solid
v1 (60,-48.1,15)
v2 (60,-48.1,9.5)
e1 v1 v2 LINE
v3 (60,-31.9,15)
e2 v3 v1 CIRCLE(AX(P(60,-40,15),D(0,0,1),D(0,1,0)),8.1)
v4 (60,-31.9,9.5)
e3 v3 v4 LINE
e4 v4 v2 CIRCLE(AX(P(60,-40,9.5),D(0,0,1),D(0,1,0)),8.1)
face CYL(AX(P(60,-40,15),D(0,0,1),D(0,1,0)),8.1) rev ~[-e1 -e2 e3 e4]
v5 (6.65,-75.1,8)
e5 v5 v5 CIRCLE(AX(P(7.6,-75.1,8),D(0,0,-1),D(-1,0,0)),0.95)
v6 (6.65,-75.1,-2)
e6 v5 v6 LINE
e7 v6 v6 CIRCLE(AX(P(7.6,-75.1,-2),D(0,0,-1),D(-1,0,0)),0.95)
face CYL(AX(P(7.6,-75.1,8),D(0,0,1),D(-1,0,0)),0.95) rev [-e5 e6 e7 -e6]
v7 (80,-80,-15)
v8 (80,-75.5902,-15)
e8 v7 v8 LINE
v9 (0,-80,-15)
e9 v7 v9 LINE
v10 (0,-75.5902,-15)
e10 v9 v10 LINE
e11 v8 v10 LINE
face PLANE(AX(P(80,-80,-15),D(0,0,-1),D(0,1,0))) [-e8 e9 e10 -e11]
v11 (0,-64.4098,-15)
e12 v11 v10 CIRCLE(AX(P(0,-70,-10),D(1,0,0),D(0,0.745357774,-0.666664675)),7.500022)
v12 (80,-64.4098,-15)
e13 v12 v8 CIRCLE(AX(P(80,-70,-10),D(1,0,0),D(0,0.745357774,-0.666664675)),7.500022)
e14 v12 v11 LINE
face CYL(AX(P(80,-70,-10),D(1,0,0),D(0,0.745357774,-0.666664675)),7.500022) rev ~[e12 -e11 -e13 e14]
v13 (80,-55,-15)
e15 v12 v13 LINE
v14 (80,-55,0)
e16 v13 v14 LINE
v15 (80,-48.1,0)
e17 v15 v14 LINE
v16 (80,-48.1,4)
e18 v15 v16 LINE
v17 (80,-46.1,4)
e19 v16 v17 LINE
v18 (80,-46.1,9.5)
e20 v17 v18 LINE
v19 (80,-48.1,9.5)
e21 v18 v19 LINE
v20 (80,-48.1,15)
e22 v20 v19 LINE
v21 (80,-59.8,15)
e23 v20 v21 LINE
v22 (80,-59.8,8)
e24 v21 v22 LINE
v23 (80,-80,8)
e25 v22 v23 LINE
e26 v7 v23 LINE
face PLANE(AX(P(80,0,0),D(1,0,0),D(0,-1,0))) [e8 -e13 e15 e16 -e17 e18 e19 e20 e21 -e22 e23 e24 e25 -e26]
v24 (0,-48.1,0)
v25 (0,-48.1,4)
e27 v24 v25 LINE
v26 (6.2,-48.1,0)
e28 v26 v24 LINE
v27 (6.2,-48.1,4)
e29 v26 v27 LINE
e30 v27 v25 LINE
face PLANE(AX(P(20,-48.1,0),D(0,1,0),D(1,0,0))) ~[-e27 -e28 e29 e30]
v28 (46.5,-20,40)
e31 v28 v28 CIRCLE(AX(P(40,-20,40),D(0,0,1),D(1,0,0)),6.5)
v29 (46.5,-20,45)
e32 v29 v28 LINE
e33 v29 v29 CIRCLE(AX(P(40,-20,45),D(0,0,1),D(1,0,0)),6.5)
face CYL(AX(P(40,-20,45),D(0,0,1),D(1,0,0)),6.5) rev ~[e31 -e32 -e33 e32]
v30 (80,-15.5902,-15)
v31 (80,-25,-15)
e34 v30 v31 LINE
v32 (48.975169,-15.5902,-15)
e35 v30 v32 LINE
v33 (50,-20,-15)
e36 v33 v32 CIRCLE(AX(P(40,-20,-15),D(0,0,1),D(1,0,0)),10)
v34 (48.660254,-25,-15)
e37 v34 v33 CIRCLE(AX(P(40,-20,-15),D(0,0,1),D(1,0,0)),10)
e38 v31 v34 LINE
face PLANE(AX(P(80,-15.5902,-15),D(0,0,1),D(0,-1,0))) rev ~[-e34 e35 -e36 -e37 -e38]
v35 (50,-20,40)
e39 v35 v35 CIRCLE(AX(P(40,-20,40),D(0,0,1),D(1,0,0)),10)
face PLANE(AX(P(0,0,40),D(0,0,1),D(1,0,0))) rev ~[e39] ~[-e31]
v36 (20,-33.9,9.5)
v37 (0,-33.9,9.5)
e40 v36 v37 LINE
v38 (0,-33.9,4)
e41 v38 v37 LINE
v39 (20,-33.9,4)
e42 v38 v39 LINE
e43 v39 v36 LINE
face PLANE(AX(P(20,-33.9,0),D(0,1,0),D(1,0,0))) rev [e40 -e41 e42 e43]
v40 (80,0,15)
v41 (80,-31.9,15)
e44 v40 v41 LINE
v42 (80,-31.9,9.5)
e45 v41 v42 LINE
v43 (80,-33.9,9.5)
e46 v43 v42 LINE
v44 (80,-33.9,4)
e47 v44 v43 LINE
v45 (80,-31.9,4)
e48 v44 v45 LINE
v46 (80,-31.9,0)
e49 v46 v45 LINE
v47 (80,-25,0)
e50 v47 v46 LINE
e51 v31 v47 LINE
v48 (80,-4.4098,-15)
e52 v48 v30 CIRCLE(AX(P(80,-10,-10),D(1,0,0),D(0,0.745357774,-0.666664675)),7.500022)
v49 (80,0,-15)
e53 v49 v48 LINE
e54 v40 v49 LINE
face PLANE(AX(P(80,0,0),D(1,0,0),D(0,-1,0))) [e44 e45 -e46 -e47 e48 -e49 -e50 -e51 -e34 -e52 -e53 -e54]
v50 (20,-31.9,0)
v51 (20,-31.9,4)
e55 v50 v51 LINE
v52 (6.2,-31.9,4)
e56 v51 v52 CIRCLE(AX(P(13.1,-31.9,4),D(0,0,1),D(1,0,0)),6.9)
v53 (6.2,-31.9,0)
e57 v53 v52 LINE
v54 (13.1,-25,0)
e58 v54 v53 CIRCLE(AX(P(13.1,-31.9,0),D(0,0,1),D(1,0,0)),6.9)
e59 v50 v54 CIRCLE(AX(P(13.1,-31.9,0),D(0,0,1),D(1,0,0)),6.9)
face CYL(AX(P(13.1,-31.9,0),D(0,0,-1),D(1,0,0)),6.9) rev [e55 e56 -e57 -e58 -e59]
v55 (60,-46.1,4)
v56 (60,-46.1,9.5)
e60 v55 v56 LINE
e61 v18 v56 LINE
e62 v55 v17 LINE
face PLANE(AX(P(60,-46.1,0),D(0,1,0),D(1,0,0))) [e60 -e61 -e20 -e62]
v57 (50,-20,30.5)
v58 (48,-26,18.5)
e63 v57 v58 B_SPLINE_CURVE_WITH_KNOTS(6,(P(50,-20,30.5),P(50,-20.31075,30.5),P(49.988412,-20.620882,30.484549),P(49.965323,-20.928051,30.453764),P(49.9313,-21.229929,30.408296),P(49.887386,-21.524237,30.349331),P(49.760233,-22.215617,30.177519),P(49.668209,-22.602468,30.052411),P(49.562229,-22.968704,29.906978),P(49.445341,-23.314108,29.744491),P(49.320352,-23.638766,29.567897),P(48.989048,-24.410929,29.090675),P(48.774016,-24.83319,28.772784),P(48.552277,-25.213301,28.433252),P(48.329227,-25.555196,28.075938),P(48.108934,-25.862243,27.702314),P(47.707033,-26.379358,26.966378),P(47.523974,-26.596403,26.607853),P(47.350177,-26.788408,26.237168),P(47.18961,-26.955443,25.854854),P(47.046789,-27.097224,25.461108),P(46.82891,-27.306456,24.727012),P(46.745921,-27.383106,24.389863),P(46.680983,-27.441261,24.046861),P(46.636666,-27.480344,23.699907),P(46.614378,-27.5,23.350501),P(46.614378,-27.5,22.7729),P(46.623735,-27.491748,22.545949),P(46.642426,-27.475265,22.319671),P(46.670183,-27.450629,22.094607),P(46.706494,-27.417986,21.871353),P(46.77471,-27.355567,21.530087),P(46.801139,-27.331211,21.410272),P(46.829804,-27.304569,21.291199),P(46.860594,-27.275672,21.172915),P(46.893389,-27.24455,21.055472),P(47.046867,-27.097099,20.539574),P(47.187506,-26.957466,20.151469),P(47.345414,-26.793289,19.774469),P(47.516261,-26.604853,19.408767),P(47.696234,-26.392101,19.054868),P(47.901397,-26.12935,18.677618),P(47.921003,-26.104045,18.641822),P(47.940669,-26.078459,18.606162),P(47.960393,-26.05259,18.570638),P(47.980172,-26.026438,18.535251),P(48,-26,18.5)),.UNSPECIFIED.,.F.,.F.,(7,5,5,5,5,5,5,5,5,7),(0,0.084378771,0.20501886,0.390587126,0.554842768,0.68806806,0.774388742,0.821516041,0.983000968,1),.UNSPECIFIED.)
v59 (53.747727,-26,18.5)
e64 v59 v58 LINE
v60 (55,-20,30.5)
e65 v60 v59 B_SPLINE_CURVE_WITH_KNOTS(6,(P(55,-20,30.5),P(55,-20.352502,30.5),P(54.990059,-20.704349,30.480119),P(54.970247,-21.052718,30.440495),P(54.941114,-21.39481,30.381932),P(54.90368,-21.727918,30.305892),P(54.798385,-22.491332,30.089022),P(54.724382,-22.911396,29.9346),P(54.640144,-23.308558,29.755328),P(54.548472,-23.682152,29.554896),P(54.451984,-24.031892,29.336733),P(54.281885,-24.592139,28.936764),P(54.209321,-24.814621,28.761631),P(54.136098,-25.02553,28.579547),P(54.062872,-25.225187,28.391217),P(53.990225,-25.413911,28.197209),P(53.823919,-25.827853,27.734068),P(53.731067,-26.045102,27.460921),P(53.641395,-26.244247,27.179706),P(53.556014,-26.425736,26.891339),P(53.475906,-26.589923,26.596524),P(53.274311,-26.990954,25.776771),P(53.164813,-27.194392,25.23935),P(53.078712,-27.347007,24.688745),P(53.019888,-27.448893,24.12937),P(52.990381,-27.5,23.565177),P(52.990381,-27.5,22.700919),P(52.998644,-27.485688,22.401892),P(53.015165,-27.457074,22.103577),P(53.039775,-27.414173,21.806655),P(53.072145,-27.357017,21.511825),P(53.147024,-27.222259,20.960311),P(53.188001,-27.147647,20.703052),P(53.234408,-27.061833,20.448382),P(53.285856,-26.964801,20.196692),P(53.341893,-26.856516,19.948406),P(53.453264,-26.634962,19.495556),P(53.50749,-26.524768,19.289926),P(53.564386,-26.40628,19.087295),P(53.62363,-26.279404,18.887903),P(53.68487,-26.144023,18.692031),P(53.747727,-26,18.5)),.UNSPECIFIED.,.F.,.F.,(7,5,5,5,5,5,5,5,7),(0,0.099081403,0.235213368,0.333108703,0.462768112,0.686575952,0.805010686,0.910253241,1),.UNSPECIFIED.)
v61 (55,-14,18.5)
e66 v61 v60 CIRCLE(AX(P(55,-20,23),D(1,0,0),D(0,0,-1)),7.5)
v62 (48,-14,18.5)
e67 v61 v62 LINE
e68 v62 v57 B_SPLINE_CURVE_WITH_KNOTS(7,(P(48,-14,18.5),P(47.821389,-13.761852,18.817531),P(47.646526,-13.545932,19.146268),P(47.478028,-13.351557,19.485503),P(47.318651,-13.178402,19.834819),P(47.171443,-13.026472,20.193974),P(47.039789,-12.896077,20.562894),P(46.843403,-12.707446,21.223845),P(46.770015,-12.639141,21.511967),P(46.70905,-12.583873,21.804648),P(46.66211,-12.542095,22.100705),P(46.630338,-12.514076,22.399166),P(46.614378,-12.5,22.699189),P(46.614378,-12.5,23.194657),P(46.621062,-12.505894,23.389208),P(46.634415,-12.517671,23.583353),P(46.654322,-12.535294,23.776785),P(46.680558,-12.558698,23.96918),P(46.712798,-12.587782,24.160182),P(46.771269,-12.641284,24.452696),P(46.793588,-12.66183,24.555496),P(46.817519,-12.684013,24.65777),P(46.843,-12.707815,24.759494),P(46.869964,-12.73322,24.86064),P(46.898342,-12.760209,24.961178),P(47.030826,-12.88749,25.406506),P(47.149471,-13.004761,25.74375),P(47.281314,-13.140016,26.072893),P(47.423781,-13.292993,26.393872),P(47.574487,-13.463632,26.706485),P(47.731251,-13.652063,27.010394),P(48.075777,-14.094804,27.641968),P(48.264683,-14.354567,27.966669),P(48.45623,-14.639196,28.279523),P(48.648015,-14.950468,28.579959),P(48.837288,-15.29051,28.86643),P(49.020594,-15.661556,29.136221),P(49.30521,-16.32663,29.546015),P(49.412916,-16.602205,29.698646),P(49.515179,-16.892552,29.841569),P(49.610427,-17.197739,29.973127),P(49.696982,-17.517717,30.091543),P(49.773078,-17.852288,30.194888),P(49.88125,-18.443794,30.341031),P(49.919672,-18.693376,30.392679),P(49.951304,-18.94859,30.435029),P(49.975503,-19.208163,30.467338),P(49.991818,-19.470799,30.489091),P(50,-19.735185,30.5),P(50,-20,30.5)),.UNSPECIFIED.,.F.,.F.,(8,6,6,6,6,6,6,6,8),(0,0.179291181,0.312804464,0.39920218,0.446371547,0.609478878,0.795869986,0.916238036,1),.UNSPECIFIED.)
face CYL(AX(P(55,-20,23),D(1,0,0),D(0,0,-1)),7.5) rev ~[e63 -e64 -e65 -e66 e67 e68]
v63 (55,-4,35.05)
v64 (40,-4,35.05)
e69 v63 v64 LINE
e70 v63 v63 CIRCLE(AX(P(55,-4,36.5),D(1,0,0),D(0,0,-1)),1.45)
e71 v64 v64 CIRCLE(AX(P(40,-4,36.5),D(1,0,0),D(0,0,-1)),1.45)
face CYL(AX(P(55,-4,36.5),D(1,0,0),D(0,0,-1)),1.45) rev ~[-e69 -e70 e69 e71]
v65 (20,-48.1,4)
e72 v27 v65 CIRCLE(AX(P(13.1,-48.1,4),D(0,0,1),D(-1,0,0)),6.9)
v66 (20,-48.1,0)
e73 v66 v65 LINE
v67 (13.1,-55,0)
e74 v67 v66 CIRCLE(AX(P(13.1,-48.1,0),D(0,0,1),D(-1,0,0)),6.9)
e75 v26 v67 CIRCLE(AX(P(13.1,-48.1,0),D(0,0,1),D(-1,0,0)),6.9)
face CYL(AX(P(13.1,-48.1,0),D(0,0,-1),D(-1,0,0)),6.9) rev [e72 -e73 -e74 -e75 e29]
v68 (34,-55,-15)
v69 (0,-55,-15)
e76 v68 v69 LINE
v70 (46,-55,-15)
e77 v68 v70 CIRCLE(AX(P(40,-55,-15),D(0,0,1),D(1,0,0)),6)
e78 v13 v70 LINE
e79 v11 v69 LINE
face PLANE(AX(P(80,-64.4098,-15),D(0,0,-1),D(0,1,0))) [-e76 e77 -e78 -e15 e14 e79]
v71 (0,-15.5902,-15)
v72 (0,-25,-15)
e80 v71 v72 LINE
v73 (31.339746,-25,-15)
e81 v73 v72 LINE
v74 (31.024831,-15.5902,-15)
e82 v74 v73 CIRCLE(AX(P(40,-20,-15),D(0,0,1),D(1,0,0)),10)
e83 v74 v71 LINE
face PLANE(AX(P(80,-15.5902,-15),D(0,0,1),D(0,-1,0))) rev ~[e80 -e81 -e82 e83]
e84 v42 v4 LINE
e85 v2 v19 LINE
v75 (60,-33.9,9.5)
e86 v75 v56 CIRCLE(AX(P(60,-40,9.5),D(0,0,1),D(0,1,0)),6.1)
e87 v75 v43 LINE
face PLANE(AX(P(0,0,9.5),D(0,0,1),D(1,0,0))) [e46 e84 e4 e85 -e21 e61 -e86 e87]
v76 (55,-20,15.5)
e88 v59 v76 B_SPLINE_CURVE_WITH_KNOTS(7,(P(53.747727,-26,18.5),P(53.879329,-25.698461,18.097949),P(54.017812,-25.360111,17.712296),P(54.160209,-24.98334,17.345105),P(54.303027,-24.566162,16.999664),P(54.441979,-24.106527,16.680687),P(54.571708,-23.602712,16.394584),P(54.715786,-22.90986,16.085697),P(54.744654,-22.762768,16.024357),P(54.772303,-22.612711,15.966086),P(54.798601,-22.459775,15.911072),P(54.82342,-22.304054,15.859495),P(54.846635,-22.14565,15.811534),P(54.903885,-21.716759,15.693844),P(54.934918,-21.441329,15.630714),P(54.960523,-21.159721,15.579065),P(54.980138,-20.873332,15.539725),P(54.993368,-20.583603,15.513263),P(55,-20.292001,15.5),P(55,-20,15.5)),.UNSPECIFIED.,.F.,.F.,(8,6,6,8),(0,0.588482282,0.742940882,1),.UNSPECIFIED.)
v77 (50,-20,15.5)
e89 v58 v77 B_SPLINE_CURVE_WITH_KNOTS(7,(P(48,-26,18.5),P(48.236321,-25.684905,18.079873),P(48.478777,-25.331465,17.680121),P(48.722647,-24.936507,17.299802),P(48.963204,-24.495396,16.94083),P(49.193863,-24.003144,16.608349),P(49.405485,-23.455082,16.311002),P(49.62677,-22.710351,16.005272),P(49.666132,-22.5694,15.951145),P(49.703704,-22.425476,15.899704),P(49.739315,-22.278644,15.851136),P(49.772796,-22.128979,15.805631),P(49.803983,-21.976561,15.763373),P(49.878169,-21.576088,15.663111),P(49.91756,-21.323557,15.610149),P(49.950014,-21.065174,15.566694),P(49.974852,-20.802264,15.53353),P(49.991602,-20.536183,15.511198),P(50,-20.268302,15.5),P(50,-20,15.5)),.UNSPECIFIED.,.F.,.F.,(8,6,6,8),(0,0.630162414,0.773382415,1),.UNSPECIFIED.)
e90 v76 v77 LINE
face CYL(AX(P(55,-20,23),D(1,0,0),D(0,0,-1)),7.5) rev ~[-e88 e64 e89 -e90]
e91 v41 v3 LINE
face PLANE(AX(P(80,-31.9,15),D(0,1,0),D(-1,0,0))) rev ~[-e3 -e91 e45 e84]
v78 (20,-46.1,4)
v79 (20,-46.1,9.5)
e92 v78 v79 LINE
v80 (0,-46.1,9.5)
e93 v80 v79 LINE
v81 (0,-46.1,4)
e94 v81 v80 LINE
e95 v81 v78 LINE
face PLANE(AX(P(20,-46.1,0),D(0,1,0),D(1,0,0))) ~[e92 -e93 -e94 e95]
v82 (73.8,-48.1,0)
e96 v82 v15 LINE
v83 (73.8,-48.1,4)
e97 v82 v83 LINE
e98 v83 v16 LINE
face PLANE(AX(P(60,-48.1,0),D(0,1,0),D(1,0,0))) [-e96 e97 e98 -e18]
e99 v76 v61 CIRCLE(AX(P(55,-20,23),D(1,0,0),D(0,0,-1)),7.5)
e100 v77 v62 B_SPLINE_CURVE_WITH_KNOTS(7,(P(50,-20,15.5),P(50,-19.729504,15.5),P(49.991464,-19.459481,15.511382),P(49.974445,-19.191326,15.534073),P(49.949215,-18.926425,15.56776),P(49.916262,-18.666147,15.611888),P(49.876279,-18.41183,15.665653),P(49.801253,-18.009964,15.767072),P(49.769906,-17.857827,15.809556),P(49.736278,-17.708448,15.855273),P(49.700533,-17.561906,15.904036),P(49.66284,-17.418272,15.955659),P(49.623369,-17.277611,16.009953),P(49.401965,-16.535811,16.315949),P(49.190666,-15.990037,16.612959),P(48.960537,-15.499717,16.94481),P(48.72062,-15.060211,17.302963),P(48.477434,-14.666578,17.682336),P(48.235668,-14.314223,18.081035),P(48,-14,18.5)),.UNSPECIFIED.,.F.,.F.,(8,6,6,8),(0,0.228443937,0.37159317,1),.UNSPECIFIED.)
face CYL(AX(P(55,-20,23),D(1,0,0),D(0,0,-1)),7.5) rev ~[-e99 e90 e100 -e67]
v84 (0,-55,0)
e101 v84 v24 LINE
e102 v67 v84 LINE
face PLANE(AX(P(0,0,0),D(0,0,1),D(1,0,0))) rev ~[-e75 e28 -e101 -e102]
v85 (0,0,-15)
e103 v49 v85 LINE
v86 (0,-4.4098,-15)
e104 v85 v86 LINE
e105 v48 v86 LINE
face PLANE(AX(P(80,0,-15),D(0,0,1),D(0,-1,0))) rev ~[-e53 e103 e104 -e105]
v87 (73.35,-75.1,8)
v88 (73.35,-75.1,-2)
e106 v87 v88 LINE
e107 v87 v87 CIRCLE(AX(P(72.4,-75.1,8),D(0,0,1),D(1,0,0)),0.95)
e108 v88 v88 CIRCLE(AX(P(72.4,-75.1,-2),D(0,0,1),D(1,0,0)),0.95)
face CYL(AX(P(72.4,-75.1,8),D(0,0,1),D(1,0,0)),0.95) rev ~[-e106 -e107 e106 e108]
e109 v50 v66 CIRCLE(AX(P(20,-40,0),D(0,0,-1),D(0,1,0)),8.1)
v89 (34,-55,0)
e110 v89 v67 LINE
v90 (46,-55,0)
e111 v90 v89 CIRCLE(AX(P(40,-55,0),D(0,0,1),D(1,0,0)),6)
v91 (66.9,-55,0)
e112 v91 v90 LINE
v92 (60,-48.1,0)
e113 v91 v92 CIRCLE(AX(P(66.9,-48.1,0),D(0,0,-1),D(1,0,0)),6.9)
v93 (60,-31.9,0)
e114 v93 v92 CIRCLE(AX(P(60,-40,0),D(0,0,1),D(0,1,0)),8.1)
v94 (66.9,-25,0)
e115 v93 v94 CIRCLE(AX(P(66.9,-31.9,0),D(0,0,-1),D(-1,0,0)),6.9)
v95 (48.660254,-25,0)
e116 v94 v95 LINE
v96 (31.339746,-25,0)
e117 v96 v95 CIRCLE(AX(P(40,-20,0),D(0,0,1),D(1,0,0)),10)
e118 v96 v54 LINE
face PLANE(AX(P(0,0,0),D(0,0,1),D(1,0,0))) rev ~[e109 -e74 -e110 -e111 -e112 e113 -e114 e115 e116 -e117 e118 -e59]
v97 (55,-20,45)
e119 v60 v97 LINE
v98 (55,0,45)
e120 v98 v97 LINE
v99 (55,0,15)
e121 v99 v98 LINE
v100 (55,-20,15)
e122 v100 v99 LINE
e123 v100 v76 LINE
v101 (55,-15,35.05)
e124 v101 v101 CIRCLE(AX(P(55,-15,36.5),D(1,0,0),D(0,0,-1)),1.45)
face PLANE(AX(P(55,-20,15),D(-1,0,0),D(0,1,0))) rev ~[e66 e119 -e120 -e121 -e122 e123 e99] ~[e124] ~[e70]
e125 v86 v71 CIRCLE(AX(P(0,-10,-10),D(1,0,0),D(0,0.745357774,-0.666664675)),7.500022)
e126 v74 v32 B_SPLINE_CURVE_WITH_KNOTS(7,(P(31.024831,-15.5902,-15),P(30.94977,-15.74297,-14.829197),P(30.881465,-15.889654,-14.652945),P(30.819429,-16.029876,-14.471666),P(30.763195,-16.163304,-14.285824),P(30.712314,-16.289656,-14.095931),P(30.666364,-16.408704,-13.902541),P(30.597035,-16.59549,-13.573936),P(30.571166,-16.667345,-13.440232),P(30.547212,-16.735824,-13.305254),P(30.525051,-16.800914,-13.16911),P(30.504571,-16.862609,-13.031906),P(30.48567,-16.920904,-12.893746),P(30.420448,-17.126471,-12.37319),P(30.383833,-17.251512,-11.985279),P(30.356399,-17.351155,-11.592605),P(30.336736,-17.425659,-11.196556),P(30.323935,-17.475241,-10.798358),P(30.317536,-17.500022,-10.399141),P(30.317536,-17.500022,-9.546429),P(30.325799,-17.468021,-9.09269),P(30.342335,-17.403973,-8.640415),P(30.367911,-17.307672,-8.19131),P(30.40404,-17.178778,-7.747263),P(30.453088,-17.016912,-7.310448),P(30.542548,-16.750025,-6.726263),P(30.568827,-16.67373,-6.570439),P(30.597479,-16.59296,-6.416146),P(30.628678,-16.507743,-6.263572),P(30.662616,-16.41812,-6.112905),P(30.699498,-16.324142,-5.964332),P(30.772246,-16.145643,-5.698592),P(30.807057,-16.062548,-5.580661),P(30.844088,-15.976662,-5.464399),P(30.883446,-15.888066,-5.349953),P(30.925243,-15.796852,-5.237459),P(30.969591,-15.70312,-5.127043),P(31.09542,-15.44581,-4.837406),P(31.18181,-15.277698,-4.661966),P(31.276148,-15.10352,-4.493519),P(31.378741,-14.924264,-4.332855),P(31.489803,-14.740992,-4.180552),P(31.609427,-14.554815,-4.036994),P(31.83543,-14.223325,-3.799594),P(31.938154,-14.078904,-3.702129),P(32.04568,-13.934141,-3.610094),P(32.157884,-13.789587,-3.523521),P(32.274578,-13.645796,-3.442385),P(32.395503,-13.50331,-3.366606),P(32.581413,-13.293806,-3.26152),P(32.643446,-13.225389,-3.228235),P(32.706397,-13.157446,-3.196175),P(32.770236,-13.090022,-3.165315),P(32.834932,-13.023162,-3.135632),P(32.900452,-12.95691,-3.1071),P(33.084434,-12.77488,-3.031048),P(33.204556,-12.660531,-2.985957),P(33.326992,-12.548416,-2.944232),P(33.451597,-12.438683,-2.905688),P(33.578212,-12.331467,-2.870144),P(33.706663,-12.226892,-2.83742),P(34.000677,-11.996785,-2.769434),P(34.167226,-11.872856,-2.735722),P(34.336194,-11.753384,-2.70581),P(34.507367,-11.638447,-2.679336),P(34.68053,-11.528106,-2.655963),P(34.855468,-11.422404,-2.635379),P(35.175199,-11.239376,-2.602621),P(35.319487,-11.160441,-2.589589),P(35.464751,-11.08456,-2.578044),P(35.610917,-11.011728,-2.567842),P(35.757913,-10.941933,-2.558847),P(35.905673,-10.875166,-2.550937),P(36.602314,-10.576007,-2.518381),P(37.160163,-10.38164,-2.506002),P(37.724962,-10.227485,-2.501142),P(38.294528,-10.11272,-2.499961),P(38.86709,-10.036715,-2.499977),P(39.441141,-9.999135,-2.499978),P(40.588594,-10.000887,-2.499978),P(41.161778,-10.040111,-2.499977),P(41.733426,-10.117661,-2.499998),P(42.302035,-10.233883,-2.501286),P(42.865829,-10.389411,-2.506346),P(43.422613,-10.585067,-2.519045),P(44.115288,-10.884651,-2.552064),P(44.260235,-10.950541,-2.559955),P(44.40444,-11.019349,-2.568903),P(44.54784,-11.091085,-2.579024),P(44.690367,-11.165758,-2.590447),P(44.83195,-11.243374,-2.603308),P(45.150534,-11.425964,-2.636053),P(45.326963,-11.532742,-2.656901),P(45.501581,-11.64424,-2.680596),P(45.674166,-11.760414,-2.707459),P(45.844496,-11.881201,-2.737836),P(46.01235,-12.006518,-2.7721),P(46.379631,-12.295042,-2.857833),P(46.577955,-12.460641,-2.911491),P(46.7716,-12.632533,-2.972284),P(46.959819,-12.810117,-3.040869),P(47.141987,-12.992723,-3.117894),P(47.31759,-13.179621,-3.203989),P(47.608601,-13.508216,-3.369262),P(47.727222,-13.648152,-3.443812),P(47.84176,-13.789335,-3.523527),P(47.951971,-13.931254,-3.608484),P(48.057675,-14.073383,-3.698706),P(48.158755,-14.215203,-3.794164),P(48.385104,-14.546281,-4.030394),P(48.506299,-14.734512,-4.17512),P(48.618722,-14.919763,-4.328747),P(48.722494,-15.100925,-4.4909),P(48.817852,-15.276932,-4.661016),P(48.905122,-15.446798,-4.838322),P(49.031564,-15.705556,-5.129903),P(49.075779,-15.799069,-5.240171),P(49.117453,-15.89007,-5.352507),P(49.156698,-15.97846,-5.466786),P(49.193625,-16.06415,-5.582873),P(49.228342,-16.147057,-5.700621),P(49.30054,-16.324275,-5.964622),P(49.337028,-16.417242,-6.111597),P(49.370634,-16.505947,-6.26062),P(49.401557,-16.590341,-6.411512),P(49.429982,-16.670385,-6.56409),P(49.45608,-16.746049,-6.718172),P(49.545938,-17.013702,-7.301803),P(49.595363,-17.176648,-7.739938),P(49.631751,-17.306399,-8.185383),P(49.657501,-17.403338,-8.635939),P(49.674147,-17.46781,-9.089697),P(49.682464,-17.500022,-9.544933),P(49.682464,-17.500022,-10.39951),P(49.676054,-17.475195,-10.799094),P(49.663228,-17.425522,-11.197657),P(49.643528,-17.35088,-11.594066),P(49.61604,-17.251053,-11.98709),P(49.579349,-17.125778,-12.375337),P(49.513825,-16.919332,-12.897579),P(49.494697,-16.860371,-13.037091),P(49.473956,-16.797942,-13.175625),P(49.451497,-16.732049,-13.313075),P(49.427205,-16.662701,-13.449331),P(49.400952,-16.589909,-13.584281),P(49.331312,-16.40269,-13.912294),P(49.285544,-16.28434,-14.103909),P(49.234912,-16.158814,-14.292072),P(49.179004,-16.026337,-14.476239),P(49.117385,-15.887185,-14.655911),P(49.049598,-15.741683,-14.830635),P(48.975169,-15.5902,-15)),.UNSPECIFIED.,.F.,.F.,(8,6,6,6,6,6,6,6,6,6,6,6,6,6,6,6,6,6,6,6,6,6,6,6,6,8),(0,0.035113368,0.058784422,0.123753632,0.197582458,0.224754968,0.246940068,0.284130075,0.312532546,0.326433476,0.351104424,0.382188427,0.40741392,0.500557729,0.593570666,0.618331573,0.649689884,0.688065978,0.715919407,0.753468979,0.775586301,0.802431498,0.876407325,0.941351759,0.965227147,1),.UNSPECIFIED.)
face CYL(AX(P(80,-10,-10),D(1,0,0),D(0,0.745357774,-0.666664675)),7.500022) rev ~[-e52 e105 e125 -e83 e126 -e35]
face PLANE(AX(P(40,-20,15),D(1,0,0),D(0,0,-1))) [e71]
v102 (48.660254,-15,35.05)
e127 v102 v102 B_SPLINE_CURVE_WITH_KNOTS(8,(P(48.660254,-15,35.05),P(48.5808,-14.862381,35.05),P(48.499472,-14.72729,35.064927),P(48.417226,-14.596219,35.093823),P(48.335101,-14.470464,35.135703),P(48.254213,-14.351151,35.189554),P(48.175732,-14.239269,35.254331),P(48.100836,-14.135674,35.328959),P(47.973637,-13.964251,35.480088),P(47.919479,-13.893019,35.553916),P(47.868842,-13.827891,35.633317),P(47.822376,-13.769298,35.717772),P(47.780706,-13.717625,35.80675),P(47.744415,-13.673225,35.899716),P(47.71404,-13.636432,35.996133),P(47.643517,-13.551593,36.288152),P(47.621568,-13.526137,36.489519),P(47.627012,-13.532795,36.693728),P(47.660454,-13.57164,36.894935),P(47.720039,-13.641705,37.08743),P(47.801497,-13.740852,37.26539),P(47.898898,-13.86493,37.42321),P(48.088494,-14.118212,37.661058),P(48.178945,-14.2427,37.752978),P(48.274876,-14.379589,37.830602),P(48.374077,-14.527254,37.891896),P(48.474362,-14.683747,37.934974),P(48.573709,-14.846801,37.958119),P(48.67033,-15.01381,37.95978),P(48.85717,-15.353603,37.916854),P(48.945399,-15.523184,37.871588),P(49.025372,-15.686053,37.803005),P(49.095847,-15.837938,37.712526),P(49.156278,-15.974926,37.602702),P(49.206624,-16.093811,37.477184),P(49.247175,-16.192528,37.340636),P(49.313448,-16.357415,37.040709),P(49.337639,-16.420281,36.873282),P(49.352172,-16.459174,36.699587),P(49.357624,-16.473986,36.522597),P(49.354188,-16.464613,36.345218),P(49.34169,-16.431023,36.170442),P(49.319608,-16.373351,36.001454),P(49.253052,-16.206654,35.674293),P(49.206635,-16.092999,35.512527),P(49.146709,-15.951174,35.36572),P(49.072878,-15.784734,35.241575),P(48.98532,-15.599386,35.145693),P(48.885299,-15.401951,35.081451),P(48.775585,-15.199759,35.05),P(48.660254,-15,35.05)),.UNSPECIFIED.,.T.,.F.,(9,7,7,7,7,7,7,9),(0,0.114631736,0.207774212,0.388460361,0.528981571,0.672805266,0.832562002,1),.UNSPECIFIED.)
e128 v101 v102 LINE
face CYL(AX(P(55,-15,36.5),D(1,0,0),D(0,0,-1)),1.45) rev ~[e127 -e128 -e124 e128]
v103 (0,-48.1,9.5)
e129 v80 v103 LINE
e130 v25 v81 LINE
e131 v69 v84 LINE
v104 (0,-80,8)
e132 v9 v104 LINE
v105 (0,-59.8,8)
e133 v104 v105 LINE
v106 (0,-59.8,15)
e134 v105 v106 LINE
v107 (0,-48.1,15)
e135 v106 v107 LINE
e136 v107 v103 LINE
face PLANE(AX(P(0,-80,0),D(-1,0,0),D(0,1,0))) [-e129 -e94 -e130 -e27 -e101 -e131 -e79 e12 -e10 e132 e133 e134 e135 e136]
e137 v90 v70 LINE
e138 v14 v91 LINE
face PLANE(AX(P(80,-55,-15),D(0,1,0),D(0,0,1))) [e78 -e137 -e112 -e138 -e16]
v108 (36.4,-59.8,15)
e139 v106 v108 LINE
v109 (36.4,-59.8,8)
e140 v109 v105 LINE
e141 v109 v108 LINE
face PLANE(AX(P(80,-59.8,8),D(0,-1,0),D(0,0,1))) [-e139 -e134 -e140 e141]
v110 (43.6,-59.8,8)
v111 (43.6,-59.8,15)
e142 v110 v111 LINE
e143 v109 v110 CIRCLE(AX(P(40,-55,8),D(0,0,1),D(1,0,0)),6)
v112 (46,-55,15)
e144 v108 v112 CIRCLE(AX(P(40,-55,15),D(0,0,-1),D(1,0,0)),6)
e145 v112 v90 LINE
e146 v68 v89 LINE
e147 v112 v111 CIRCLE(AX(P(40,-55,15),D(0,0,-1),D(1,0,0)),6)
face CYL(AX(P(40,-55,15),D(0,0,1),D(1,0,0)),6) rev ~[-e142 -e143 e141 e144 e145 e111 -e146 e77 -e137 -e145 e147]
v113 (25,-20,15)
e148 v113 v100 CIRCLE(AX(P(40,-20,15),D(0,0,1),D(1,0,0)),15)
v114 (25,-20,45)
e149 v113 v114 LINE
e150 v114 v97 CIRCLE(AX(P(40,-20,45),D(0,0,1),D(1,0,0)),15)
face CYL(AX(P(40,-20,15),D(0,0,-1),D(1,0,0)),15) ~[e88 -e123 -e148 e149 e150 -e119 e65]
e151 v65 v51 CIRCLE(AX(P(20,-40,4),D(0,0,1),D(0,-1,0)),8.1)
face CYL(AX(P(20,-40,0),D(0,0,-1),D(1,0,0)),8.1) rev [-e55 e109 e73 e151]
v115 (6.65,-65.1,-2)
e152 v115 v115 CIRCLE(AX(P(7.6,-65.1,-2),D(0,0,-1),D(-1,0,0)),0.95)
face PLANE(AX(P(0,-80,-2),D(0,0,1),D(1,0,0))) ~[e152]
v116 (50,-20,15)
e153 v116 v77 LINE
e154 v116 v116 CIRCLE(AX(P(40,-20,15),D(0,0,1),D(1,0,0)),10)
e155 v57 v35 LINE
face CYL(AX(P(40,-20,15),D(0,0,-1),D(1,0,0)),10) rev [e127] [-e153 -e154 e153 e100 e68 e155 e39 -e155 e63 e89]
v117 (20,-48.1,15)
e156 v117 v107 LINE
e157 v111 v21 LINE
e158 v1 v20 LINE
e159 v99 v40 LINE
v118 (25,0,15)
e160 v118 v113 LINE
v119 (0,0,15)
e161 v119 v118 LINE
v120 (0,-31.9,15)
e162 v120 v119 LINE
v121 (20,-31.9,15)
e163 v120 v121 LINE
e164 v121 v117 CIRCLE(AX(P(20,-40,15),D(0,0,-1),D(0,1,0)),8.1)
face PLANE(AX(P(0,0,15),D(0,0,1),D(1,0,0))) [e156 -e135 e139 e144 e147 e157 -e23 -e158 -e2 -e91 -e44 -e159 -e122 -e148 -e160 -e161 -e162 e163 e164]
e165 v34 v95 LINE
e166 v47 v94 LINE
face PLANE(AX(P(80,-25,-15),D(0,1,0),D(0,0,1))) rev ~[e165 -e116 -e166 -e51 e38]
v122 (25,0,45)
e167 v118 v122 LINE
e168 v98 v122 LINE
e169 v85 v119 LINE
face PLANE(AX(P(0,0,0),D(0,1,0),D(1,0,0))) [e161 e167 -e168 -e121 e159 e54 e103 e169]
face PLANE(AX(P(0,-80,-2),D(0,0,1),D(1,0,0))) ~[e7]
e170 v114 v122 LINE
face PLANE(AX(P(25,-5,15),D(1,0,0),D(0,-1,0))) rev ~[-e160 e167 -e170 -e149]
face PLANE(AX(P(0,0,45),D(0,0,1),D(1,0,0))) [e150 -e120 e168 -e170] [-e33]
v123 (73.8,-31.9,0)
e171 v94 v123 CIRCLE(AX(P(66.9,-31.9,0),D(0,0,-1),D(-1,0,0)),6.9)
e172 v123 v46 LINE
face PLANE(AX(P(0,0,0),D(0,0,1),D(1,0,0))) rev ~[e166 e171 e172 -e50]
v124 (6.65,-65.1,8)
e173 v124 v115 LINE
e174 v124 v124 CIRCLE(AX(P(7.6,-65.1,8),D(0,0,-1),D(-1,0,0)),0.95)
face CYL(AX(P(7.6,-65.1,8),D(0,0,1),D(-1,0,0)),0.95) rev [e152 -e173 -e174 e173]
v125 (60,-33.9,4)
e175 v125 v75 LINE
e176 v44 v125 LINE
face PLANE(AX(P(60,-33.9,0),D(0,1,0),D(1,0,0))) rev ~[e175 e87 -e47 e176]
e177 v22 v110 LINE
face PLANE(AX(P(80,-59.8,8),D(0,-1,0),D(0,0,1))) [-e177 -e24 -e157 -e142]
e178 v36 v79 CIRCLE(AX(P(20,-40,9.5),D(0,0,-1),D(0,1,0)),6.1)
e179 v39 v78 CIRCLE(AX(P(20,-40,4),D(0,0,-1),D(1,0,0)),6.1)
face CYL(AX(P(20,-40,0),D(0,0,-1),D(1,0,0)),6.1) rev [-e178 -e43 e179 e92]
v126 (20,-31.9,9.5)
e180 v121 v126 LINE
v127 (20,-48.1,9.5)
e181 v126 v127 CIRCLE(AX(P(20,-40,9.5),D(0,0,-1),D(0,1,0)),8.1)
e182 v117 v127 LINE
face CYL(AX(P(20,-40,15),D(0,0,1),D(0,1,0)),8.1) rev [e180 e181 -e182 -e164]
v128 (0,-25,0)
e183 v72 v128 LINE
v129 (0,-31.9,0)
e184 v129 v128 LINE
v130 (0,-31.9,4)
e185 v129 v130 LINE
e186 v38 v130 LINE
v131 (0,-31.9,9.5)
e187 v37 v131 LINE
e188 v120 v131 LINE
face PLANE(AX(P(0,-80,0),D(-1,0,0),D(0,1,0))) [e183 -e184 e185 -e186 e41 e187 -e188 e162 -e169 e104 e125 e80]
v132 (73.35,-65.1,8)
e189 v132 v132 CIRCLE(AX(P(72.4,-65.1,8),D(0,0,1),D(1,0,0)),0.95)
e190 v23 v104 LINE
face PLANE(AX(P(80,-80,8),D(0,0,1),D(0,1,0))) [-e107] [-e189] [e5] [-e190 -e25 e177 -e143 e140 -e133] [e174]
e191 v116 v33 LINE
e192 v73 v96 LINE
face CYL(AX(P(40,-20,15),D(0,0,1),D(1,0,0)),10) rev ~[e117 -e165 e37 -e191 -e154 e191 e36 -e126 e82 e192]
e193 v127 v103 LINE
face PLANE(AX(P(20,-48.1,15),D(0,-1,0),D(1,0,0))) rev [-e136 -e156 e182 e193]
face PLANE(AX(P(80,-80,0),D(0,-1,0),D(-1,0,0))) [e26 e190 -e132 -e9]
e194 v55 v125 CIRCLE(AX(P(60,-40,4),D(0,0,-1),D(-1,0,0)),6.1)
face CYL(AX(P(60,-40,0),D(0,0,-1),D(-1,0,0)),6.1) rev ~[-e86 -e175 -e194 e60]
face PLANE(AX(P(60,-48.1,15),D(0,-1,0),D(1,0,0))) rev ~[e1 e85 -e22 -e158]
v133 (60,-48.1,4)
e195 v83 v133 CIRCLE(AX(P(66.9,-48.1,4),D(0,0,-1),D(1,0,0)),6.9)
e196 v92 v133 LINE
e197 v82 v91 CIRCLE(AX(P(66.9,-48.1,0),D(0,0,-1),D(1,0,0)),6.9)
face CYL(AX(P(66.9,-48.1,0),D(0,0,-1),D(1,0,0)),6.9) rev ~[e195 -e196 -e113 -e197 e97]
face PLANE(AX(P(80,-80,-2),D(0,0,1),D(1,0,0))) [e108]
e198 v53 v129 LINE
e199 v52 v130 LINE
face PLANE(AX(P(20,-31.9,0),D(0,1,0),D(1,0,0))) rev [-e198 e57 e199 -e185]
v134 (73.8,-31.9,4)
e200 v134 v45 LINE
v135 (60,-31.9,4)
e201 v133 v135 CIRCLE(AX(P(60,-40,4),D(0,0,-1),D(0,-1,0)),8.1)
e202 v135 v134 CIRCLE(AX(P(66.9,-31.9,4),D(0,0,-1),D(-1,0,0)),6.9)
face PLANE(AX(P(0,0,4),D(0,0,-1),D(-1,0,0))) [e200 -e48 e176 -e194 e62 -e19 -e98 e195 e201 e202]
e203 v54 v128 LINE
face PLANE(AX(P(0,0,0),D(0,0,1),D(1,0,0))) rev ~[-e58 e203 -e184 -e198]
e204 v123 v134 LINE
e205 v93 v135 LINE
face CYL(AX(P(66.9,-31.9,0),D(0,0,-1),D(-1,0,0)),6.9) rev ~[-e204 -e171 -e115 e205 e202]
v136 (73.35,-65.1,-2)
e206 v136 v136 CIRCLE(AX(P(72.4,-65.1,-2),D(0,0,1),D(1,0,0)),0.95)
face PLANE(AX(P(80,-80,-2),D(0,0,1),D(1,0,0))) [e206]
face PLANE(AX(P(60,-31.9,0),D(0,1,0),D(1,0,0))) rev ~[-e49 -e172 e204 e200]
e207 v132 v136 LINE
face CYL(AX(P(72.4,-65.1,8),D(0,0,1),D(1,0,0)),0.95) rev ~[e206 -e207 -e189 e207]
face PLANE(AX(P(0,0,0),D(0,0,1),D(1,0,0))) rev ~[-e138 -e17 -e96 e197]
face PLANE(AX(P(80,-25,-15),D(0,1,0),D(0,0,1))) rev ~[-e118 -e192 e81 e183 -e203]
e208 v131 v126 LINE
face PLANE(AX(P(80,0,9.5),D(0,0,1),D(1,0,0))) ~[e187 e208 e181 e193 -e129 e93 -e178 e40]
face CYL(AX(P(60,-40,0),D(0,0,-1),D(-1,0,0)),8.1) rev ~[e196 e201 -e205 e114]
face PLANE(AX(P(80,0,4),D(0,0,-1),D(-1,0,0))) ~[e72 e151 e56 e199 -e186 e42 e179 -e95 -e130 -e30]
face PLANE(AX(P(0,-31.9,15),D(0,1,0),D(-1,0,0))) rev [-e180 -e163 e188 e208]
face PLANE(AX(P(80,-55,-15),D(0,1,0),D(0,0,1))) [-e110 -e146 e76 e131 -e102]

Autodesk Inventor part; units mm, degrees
ref_plane "YZ Plane" through (0, 0, 0) normal (1, 0, 0) x (0, 1, 0)
ref_plane "XZ Plane" through (0, 0, 0) normal (0, 1, 0) x (-1, 0, 0)
ref_plane "XY Plane" through (0, 0, 0) normal (0, 0, 1) x (1, 0, 0)
sketch "Sketch1" plane through (0, 0, 0) normal (0, 0, 1) x (1, 0, 0)
  line L0 (0, 0) -> (80, 0)
  line L1 (80, 0) -> (80, -80)
  line L2 (80, -80) -> (0, -80)
  line L3 (0, -80) -> (0, 0)
  dimension "d0" = 80
  dimension "d1" = 80
extrude "Extrusion1" add sketch "Sketch1" along normal blind 15
sketch "Sketch2" plane through (0, 0, 0) normal (0, 0, -1) x (-1, 0, 0)
  line L0 (0, 0) -> (-80, 0) projected
  circle A0 centre (-60, -40) radius 6.1
  line L1 (-80, 0) -> (-80, -80) projected
  line L2 (-60, -33.9) -> (-80, -33.9)
  line L3 (-80, -80) -> (-80, 0) projected
  line L4 (-60, -46.1) -> (-80, -46.1)
  line L5 (-80, -46.1) -> (-80, -33.9)
  dimension "d7" = 40
  dimension "d8" = 20
  dimension "d9" = 12.2
extrude "Extrusion2" cut sketch "Sketch2" against normal through all
sketch "Sketch3" plane through (0, 0, 0) normal (0, 0, -1) x (-1, 0, 0)
  arc A0 (-60, -46.1) -> (-60, -33.9) centre (-60, -40) ccw projected
  circle A1 centre (-60, -40) radius 8.1
  line L0 (-60, -31.9) -> (-80, -31.9)
  line L1 (-80, -33.9) -> (-80, 0) projected
  line L2 (-60, -48.1) -> (-80, -48.1)
  line L3 (-80, -48.1) -> (-80, -31.9)
  point P0 (0, 0)
  dimension "d12" = 16.2
extrude "Extrusion3" cut sketch "Sketch3" against normal blind 4
sketch "Sketch4" plane through (0, 0, 15) normal (0, 0, 1) x (1, 0, 0)
  line L0 (80, -31.9) -> (60, -31.9) projected
  arc A0 (60, -31.9) -> (60, -48.1) centre (60, -40) ccw projected
  line L1 (60, -48.1) -> (80, -48.1) projected
  line L2 (80, -46.1) -> (60, -46.1) projected
  arc A1 (60, -33.9) -> (60, -46.1) centre (60, -40) ccw projected
  line L3 (60, -33.9) -> (80, -33.9) projected
  line L4 (80, -33.9) -> (80, -31.9)
  line L5 (80, -33.9) -> (80, 0) projected
  line L6 (80, -46.1) -> (80, -48.1)
  line L7 (80, -80) -> (80, -46.1) projected
  point P0 (0, 0)
extrude "Extrusion4" cut sketch "Sketch4" against normal blind 5.5
sketch "Sketch5" plane through (0, 0, 0) normal (0, 0, -1) x (-1, 0, 0)
  arc A0 (-60, -46.1) -> (-60, -33.9) centre (-60, -40) ccw projected
  line L0 (-80, -31.9) -> (-60, -31.9) projected
  circle A1 centre (-60, -40) radius 8.1
  line L1 (-60, -31.9) -> (-60, -31.9)
  line L2 (-73.8, -31.9) -> (-73.8, -48.1)
  line L3 (-60, -48.1) -> (-60, -48.1)
  arc A2 (-60, -48.1) -> (-60, -31.9) centre (-60, -40) ccw projected
  line L4 (-60, -31.9) -> (-60, -31.9)
  line L5 (-60, -31.9) -> (-60, -31.9)
  line L6 (-60, -33.9) -> (-60, -46.1)
  arc A3 (-60, -31.9) -> (-73.8, -31.9) centre (-66.9, -31.9) ccw
  arc A4 (-73.8, -48.1) -> (-60, -48.1) centre (-66.9, -48.1) ccw
  point P0 (0, 0)
  dimension "d17" = 13.8
  dimension "d20" = 16.2
  dimension "d21" = 8.1
  dimension "d37" = 0
extrude "Extrusion5" cut sketch "Sketch5" against normal blind 4 contours A3 L0 | L0 A1 A4 L2
sketch "Sketch6" plane through (80, 0, 15) normal (1, 0, 0) x (0, 0, -1)
  line L0 (15, 0) -> (0, 0) projected
  line L1 (15, 0) -> (30, 0)
  line L2 (30, -25) -> (15, -25)
  line L3 (15, -25) -> (15, 0)
  line L4 (15, -80) -> (0, -80) projected
  line L5 (15, -80) -> (30, -80)
  line L6 (30, -55) -> (15, -55)
  line L7 (15, -55) -> (15, -80)
  arc A0 (30, -4.4098) -> (30, -15.5902) centre (25, -10) ccw
  arc A1 (30, -64.4098) -> (30, -75.5902) centre (25, -70) ccw
  line L8 (30, 0) -> (30, -4.4098)
  line L9 (30, -15.5902) -> (30, -25)
  line L10 (30, -80) -> (30, -75.5902)
  line L11 (30, -64.4098) -> (30, -55)
  dimension "d22" = 25
  dimension "d23" = 25
  dimension "d24" = 15
  dimension "d25" = 15
  dimension "d29" = 15
  dimension "d32" = 15
  dimension "d33" = 5
  dimension "d34" = 5
  dimension "d38" = 15
  dimension "d39" = 15
  dimension "d40" = 60
  dimension "d41" = 10
  dimension "d42" = 10
extrude "Extrusion6" add sketch "Sketch6" against normal blind 80
ref_plane "Work Plane1" through (40, -33.9, 4) normal (1, 0, 0) x (0, 0, -1)
mirror "Mirror1" about plane through (40, -33.9, 4) normal (1, 0, 0) of "Extrusion5", "Extrusion4", "Extrusion3", "Extrusion2"
sketch "Sketch8" plane through (80, -48.1, 4) normal (1, 0, 0) x (0, 0, -1)
  line L0 (-11, 0) -> (-11, -31.9) projected
  line L1 (-11, -31.9) -> (-4, -31.9)
  line L2 (-4, -31.9) -> (-4, -11.7)
  line L3 (-4, -11.7) -> (-11, -11.7)
  line L4 (-11, -11.7) -> (-11, -31.9)
  point P0 (4, 48.1)
  dimension "d49" = 20.2
  dimension "d50" = 7
extrude "Extrusion8" cut sketch "Sketch8" along normal through all both and the other way through all
sketch "Sketch9" plane through (80, -80, 8) normal (0, 0, 1) x (1, 0, 0)
  circle A0 centre (-7.6, 14.9) radius 0.95
  circle A1 centre (-7.6, 4.9) radius 0.95
  line L0 (0, 20.2) -> (0, 0) projected
  line L1 (0, 0) -> (-80, 0) projected
  point P0 (-80, 80)
  dimension "d53" = 1.9
  dimension "d54" = 1.9
  dimension "d55" = 7.6
  dimension "d56" = 7.6
  dimension "d57" = 10
  dimension "d58" = 4.9
extrude "Extrusion9" cut sketch "Sketch9" against normal blind 10
ref_plane "Work Plane2" through (40, -48.1, 4) normal (1, 0, 0) x (0, 0, -1)
mirror "Mirror2" about plane through (40, -48.1, 4) normal (1, 0, 0) of "Extrusion9"
sketch "Sketch10" plane through (0, 0, 15) normal (0, 0, 1) x (1, 0, 0)
  line L0 (80, -55) -> (0, -55) projected
  circle A0 centre (40, -55) radius 6
  point P0 (0, 0)
  dimension "d61" = 12
extrude "Extrusion10" cut sketch "Sketch10" against normal through all
sketch "Sketch11" plane through (0, 0, 15) normal (0, 0, 1) x (1, 0, 0)
  circle A0 centre (40, -20) radius 15
  circle A1 centre (40, -20) radius 10
  line L0 (80, -31.9) -> (80, 0) projected
  line L1 (80, 0) -> (0, 0) projected
  line L2 (55, -20) -> (55, -5)
  line L3 (80, -4.4098) -> (0, -4.4098) projected
  line L4 (55, -5) -> (40, -5)
  line L5 (40, -5) -> (25, -5)
  line L6 (25, -5) -> (25, -20)
  line L7 (55, -5) -> (25, -5)
  line L8 (25, -5) -> (25, 0)
  line L9 (25, 0) -> (55, 0)
  line L10 (55, 0) -> (55, -5)
  dimension "d64" = 30
  dimension "d65" = 20
  dimension "d66" = 40
  dimension "d67" = 20
extrude "Extrusion11" add sketch "Sketch11" along normal blind 30 contours A0 | A0 L4 L2 | L5 L8 L3 L10 L4 | A0 L6 L5 | L3 L8 L1 L10
sketch "Sketch12" plane through (0, 0, 45) normal (0, 0, 1) x (1, 0, 0)
  circle A0 centre (40, -20) radius 10 projected
  circle A1 centre (40, -20) radius 6.5
  point P0 (0, 0)
  dimension "d70" = 13
extrude "Extrusion12" add sketch "Sketch12" against normal blind 5
sketch "Sketch13" plane through (0, 0, 15) normal (0, 0, 1) x (1, 0, 0)
  circle A0 centre (40, -20) radius 6.5 projected
  circle A1 centre (40, -20) radius 10
  point P0 (0, 0)
extrude "Extrusion13" cut sketch "Sketch13" against normal blind 35 contours A0 | A1
sketch "Sketch14" plane through (55, -20, 15) normal (1, 0, 0) x (0, 0, -1)
  circle A0 centre (-21.5, 5) radius 1.45
  circle A1 centre (-21.5, 16) radius 1.45
  line L0 (0, 20) -> (-30, 20) projected
  line L1 (-30, 0) -> (-30, 20) projected
  point P0 (15, 20)
  dimension "d75" = 2.9
  dimension "d76" = 2.9
  dimension "d77" = 11
  dimension "d78" = 4
  dimension "d79" = 8.5
  dimension "d80" = 8.5
extrude "Extrusion14" cut sketch "Sketch14" against normal blind 15
sketch "Sketch15" plane through (55, -20, 15) normal (1, 0, 0) x (0, 0, -1)
  circle A0 centre (-8, 0) radius 7.5
  line L0 (15, -10) -> (-25, -10) projected
  line L1 (4, -6) -> (-11, -6)
  line L2 (4, 6) -> (-11, 6)
  line L3 (0, -11.9) -> (0, 20) projected
  point P0 (15, 20)
  dimension "d83" = 6
  dimension "d84" = 15
  dimension "d85" = 8
extrude "Extrusion15" cut sketch "Sketch15" against normal blind 17 contours A0
equation "\"d24\" = d25"
equation "\"d32\" = d29"
equation "\"d34\" = d33"
equation "\"d75\" = d76"
equation "\"d80\" = d79"
equation "\"RodDiameter\" = 8"
equation "\"VerticalBearingOD\" = 16"
equation "\"PrintingClearance\" = 0.2"
equation "\"d31\" = d30"
equation "\"TubeID\" = 18"
equation "\"d30\" = 5"
properties part number "HotendMountCarriage"
